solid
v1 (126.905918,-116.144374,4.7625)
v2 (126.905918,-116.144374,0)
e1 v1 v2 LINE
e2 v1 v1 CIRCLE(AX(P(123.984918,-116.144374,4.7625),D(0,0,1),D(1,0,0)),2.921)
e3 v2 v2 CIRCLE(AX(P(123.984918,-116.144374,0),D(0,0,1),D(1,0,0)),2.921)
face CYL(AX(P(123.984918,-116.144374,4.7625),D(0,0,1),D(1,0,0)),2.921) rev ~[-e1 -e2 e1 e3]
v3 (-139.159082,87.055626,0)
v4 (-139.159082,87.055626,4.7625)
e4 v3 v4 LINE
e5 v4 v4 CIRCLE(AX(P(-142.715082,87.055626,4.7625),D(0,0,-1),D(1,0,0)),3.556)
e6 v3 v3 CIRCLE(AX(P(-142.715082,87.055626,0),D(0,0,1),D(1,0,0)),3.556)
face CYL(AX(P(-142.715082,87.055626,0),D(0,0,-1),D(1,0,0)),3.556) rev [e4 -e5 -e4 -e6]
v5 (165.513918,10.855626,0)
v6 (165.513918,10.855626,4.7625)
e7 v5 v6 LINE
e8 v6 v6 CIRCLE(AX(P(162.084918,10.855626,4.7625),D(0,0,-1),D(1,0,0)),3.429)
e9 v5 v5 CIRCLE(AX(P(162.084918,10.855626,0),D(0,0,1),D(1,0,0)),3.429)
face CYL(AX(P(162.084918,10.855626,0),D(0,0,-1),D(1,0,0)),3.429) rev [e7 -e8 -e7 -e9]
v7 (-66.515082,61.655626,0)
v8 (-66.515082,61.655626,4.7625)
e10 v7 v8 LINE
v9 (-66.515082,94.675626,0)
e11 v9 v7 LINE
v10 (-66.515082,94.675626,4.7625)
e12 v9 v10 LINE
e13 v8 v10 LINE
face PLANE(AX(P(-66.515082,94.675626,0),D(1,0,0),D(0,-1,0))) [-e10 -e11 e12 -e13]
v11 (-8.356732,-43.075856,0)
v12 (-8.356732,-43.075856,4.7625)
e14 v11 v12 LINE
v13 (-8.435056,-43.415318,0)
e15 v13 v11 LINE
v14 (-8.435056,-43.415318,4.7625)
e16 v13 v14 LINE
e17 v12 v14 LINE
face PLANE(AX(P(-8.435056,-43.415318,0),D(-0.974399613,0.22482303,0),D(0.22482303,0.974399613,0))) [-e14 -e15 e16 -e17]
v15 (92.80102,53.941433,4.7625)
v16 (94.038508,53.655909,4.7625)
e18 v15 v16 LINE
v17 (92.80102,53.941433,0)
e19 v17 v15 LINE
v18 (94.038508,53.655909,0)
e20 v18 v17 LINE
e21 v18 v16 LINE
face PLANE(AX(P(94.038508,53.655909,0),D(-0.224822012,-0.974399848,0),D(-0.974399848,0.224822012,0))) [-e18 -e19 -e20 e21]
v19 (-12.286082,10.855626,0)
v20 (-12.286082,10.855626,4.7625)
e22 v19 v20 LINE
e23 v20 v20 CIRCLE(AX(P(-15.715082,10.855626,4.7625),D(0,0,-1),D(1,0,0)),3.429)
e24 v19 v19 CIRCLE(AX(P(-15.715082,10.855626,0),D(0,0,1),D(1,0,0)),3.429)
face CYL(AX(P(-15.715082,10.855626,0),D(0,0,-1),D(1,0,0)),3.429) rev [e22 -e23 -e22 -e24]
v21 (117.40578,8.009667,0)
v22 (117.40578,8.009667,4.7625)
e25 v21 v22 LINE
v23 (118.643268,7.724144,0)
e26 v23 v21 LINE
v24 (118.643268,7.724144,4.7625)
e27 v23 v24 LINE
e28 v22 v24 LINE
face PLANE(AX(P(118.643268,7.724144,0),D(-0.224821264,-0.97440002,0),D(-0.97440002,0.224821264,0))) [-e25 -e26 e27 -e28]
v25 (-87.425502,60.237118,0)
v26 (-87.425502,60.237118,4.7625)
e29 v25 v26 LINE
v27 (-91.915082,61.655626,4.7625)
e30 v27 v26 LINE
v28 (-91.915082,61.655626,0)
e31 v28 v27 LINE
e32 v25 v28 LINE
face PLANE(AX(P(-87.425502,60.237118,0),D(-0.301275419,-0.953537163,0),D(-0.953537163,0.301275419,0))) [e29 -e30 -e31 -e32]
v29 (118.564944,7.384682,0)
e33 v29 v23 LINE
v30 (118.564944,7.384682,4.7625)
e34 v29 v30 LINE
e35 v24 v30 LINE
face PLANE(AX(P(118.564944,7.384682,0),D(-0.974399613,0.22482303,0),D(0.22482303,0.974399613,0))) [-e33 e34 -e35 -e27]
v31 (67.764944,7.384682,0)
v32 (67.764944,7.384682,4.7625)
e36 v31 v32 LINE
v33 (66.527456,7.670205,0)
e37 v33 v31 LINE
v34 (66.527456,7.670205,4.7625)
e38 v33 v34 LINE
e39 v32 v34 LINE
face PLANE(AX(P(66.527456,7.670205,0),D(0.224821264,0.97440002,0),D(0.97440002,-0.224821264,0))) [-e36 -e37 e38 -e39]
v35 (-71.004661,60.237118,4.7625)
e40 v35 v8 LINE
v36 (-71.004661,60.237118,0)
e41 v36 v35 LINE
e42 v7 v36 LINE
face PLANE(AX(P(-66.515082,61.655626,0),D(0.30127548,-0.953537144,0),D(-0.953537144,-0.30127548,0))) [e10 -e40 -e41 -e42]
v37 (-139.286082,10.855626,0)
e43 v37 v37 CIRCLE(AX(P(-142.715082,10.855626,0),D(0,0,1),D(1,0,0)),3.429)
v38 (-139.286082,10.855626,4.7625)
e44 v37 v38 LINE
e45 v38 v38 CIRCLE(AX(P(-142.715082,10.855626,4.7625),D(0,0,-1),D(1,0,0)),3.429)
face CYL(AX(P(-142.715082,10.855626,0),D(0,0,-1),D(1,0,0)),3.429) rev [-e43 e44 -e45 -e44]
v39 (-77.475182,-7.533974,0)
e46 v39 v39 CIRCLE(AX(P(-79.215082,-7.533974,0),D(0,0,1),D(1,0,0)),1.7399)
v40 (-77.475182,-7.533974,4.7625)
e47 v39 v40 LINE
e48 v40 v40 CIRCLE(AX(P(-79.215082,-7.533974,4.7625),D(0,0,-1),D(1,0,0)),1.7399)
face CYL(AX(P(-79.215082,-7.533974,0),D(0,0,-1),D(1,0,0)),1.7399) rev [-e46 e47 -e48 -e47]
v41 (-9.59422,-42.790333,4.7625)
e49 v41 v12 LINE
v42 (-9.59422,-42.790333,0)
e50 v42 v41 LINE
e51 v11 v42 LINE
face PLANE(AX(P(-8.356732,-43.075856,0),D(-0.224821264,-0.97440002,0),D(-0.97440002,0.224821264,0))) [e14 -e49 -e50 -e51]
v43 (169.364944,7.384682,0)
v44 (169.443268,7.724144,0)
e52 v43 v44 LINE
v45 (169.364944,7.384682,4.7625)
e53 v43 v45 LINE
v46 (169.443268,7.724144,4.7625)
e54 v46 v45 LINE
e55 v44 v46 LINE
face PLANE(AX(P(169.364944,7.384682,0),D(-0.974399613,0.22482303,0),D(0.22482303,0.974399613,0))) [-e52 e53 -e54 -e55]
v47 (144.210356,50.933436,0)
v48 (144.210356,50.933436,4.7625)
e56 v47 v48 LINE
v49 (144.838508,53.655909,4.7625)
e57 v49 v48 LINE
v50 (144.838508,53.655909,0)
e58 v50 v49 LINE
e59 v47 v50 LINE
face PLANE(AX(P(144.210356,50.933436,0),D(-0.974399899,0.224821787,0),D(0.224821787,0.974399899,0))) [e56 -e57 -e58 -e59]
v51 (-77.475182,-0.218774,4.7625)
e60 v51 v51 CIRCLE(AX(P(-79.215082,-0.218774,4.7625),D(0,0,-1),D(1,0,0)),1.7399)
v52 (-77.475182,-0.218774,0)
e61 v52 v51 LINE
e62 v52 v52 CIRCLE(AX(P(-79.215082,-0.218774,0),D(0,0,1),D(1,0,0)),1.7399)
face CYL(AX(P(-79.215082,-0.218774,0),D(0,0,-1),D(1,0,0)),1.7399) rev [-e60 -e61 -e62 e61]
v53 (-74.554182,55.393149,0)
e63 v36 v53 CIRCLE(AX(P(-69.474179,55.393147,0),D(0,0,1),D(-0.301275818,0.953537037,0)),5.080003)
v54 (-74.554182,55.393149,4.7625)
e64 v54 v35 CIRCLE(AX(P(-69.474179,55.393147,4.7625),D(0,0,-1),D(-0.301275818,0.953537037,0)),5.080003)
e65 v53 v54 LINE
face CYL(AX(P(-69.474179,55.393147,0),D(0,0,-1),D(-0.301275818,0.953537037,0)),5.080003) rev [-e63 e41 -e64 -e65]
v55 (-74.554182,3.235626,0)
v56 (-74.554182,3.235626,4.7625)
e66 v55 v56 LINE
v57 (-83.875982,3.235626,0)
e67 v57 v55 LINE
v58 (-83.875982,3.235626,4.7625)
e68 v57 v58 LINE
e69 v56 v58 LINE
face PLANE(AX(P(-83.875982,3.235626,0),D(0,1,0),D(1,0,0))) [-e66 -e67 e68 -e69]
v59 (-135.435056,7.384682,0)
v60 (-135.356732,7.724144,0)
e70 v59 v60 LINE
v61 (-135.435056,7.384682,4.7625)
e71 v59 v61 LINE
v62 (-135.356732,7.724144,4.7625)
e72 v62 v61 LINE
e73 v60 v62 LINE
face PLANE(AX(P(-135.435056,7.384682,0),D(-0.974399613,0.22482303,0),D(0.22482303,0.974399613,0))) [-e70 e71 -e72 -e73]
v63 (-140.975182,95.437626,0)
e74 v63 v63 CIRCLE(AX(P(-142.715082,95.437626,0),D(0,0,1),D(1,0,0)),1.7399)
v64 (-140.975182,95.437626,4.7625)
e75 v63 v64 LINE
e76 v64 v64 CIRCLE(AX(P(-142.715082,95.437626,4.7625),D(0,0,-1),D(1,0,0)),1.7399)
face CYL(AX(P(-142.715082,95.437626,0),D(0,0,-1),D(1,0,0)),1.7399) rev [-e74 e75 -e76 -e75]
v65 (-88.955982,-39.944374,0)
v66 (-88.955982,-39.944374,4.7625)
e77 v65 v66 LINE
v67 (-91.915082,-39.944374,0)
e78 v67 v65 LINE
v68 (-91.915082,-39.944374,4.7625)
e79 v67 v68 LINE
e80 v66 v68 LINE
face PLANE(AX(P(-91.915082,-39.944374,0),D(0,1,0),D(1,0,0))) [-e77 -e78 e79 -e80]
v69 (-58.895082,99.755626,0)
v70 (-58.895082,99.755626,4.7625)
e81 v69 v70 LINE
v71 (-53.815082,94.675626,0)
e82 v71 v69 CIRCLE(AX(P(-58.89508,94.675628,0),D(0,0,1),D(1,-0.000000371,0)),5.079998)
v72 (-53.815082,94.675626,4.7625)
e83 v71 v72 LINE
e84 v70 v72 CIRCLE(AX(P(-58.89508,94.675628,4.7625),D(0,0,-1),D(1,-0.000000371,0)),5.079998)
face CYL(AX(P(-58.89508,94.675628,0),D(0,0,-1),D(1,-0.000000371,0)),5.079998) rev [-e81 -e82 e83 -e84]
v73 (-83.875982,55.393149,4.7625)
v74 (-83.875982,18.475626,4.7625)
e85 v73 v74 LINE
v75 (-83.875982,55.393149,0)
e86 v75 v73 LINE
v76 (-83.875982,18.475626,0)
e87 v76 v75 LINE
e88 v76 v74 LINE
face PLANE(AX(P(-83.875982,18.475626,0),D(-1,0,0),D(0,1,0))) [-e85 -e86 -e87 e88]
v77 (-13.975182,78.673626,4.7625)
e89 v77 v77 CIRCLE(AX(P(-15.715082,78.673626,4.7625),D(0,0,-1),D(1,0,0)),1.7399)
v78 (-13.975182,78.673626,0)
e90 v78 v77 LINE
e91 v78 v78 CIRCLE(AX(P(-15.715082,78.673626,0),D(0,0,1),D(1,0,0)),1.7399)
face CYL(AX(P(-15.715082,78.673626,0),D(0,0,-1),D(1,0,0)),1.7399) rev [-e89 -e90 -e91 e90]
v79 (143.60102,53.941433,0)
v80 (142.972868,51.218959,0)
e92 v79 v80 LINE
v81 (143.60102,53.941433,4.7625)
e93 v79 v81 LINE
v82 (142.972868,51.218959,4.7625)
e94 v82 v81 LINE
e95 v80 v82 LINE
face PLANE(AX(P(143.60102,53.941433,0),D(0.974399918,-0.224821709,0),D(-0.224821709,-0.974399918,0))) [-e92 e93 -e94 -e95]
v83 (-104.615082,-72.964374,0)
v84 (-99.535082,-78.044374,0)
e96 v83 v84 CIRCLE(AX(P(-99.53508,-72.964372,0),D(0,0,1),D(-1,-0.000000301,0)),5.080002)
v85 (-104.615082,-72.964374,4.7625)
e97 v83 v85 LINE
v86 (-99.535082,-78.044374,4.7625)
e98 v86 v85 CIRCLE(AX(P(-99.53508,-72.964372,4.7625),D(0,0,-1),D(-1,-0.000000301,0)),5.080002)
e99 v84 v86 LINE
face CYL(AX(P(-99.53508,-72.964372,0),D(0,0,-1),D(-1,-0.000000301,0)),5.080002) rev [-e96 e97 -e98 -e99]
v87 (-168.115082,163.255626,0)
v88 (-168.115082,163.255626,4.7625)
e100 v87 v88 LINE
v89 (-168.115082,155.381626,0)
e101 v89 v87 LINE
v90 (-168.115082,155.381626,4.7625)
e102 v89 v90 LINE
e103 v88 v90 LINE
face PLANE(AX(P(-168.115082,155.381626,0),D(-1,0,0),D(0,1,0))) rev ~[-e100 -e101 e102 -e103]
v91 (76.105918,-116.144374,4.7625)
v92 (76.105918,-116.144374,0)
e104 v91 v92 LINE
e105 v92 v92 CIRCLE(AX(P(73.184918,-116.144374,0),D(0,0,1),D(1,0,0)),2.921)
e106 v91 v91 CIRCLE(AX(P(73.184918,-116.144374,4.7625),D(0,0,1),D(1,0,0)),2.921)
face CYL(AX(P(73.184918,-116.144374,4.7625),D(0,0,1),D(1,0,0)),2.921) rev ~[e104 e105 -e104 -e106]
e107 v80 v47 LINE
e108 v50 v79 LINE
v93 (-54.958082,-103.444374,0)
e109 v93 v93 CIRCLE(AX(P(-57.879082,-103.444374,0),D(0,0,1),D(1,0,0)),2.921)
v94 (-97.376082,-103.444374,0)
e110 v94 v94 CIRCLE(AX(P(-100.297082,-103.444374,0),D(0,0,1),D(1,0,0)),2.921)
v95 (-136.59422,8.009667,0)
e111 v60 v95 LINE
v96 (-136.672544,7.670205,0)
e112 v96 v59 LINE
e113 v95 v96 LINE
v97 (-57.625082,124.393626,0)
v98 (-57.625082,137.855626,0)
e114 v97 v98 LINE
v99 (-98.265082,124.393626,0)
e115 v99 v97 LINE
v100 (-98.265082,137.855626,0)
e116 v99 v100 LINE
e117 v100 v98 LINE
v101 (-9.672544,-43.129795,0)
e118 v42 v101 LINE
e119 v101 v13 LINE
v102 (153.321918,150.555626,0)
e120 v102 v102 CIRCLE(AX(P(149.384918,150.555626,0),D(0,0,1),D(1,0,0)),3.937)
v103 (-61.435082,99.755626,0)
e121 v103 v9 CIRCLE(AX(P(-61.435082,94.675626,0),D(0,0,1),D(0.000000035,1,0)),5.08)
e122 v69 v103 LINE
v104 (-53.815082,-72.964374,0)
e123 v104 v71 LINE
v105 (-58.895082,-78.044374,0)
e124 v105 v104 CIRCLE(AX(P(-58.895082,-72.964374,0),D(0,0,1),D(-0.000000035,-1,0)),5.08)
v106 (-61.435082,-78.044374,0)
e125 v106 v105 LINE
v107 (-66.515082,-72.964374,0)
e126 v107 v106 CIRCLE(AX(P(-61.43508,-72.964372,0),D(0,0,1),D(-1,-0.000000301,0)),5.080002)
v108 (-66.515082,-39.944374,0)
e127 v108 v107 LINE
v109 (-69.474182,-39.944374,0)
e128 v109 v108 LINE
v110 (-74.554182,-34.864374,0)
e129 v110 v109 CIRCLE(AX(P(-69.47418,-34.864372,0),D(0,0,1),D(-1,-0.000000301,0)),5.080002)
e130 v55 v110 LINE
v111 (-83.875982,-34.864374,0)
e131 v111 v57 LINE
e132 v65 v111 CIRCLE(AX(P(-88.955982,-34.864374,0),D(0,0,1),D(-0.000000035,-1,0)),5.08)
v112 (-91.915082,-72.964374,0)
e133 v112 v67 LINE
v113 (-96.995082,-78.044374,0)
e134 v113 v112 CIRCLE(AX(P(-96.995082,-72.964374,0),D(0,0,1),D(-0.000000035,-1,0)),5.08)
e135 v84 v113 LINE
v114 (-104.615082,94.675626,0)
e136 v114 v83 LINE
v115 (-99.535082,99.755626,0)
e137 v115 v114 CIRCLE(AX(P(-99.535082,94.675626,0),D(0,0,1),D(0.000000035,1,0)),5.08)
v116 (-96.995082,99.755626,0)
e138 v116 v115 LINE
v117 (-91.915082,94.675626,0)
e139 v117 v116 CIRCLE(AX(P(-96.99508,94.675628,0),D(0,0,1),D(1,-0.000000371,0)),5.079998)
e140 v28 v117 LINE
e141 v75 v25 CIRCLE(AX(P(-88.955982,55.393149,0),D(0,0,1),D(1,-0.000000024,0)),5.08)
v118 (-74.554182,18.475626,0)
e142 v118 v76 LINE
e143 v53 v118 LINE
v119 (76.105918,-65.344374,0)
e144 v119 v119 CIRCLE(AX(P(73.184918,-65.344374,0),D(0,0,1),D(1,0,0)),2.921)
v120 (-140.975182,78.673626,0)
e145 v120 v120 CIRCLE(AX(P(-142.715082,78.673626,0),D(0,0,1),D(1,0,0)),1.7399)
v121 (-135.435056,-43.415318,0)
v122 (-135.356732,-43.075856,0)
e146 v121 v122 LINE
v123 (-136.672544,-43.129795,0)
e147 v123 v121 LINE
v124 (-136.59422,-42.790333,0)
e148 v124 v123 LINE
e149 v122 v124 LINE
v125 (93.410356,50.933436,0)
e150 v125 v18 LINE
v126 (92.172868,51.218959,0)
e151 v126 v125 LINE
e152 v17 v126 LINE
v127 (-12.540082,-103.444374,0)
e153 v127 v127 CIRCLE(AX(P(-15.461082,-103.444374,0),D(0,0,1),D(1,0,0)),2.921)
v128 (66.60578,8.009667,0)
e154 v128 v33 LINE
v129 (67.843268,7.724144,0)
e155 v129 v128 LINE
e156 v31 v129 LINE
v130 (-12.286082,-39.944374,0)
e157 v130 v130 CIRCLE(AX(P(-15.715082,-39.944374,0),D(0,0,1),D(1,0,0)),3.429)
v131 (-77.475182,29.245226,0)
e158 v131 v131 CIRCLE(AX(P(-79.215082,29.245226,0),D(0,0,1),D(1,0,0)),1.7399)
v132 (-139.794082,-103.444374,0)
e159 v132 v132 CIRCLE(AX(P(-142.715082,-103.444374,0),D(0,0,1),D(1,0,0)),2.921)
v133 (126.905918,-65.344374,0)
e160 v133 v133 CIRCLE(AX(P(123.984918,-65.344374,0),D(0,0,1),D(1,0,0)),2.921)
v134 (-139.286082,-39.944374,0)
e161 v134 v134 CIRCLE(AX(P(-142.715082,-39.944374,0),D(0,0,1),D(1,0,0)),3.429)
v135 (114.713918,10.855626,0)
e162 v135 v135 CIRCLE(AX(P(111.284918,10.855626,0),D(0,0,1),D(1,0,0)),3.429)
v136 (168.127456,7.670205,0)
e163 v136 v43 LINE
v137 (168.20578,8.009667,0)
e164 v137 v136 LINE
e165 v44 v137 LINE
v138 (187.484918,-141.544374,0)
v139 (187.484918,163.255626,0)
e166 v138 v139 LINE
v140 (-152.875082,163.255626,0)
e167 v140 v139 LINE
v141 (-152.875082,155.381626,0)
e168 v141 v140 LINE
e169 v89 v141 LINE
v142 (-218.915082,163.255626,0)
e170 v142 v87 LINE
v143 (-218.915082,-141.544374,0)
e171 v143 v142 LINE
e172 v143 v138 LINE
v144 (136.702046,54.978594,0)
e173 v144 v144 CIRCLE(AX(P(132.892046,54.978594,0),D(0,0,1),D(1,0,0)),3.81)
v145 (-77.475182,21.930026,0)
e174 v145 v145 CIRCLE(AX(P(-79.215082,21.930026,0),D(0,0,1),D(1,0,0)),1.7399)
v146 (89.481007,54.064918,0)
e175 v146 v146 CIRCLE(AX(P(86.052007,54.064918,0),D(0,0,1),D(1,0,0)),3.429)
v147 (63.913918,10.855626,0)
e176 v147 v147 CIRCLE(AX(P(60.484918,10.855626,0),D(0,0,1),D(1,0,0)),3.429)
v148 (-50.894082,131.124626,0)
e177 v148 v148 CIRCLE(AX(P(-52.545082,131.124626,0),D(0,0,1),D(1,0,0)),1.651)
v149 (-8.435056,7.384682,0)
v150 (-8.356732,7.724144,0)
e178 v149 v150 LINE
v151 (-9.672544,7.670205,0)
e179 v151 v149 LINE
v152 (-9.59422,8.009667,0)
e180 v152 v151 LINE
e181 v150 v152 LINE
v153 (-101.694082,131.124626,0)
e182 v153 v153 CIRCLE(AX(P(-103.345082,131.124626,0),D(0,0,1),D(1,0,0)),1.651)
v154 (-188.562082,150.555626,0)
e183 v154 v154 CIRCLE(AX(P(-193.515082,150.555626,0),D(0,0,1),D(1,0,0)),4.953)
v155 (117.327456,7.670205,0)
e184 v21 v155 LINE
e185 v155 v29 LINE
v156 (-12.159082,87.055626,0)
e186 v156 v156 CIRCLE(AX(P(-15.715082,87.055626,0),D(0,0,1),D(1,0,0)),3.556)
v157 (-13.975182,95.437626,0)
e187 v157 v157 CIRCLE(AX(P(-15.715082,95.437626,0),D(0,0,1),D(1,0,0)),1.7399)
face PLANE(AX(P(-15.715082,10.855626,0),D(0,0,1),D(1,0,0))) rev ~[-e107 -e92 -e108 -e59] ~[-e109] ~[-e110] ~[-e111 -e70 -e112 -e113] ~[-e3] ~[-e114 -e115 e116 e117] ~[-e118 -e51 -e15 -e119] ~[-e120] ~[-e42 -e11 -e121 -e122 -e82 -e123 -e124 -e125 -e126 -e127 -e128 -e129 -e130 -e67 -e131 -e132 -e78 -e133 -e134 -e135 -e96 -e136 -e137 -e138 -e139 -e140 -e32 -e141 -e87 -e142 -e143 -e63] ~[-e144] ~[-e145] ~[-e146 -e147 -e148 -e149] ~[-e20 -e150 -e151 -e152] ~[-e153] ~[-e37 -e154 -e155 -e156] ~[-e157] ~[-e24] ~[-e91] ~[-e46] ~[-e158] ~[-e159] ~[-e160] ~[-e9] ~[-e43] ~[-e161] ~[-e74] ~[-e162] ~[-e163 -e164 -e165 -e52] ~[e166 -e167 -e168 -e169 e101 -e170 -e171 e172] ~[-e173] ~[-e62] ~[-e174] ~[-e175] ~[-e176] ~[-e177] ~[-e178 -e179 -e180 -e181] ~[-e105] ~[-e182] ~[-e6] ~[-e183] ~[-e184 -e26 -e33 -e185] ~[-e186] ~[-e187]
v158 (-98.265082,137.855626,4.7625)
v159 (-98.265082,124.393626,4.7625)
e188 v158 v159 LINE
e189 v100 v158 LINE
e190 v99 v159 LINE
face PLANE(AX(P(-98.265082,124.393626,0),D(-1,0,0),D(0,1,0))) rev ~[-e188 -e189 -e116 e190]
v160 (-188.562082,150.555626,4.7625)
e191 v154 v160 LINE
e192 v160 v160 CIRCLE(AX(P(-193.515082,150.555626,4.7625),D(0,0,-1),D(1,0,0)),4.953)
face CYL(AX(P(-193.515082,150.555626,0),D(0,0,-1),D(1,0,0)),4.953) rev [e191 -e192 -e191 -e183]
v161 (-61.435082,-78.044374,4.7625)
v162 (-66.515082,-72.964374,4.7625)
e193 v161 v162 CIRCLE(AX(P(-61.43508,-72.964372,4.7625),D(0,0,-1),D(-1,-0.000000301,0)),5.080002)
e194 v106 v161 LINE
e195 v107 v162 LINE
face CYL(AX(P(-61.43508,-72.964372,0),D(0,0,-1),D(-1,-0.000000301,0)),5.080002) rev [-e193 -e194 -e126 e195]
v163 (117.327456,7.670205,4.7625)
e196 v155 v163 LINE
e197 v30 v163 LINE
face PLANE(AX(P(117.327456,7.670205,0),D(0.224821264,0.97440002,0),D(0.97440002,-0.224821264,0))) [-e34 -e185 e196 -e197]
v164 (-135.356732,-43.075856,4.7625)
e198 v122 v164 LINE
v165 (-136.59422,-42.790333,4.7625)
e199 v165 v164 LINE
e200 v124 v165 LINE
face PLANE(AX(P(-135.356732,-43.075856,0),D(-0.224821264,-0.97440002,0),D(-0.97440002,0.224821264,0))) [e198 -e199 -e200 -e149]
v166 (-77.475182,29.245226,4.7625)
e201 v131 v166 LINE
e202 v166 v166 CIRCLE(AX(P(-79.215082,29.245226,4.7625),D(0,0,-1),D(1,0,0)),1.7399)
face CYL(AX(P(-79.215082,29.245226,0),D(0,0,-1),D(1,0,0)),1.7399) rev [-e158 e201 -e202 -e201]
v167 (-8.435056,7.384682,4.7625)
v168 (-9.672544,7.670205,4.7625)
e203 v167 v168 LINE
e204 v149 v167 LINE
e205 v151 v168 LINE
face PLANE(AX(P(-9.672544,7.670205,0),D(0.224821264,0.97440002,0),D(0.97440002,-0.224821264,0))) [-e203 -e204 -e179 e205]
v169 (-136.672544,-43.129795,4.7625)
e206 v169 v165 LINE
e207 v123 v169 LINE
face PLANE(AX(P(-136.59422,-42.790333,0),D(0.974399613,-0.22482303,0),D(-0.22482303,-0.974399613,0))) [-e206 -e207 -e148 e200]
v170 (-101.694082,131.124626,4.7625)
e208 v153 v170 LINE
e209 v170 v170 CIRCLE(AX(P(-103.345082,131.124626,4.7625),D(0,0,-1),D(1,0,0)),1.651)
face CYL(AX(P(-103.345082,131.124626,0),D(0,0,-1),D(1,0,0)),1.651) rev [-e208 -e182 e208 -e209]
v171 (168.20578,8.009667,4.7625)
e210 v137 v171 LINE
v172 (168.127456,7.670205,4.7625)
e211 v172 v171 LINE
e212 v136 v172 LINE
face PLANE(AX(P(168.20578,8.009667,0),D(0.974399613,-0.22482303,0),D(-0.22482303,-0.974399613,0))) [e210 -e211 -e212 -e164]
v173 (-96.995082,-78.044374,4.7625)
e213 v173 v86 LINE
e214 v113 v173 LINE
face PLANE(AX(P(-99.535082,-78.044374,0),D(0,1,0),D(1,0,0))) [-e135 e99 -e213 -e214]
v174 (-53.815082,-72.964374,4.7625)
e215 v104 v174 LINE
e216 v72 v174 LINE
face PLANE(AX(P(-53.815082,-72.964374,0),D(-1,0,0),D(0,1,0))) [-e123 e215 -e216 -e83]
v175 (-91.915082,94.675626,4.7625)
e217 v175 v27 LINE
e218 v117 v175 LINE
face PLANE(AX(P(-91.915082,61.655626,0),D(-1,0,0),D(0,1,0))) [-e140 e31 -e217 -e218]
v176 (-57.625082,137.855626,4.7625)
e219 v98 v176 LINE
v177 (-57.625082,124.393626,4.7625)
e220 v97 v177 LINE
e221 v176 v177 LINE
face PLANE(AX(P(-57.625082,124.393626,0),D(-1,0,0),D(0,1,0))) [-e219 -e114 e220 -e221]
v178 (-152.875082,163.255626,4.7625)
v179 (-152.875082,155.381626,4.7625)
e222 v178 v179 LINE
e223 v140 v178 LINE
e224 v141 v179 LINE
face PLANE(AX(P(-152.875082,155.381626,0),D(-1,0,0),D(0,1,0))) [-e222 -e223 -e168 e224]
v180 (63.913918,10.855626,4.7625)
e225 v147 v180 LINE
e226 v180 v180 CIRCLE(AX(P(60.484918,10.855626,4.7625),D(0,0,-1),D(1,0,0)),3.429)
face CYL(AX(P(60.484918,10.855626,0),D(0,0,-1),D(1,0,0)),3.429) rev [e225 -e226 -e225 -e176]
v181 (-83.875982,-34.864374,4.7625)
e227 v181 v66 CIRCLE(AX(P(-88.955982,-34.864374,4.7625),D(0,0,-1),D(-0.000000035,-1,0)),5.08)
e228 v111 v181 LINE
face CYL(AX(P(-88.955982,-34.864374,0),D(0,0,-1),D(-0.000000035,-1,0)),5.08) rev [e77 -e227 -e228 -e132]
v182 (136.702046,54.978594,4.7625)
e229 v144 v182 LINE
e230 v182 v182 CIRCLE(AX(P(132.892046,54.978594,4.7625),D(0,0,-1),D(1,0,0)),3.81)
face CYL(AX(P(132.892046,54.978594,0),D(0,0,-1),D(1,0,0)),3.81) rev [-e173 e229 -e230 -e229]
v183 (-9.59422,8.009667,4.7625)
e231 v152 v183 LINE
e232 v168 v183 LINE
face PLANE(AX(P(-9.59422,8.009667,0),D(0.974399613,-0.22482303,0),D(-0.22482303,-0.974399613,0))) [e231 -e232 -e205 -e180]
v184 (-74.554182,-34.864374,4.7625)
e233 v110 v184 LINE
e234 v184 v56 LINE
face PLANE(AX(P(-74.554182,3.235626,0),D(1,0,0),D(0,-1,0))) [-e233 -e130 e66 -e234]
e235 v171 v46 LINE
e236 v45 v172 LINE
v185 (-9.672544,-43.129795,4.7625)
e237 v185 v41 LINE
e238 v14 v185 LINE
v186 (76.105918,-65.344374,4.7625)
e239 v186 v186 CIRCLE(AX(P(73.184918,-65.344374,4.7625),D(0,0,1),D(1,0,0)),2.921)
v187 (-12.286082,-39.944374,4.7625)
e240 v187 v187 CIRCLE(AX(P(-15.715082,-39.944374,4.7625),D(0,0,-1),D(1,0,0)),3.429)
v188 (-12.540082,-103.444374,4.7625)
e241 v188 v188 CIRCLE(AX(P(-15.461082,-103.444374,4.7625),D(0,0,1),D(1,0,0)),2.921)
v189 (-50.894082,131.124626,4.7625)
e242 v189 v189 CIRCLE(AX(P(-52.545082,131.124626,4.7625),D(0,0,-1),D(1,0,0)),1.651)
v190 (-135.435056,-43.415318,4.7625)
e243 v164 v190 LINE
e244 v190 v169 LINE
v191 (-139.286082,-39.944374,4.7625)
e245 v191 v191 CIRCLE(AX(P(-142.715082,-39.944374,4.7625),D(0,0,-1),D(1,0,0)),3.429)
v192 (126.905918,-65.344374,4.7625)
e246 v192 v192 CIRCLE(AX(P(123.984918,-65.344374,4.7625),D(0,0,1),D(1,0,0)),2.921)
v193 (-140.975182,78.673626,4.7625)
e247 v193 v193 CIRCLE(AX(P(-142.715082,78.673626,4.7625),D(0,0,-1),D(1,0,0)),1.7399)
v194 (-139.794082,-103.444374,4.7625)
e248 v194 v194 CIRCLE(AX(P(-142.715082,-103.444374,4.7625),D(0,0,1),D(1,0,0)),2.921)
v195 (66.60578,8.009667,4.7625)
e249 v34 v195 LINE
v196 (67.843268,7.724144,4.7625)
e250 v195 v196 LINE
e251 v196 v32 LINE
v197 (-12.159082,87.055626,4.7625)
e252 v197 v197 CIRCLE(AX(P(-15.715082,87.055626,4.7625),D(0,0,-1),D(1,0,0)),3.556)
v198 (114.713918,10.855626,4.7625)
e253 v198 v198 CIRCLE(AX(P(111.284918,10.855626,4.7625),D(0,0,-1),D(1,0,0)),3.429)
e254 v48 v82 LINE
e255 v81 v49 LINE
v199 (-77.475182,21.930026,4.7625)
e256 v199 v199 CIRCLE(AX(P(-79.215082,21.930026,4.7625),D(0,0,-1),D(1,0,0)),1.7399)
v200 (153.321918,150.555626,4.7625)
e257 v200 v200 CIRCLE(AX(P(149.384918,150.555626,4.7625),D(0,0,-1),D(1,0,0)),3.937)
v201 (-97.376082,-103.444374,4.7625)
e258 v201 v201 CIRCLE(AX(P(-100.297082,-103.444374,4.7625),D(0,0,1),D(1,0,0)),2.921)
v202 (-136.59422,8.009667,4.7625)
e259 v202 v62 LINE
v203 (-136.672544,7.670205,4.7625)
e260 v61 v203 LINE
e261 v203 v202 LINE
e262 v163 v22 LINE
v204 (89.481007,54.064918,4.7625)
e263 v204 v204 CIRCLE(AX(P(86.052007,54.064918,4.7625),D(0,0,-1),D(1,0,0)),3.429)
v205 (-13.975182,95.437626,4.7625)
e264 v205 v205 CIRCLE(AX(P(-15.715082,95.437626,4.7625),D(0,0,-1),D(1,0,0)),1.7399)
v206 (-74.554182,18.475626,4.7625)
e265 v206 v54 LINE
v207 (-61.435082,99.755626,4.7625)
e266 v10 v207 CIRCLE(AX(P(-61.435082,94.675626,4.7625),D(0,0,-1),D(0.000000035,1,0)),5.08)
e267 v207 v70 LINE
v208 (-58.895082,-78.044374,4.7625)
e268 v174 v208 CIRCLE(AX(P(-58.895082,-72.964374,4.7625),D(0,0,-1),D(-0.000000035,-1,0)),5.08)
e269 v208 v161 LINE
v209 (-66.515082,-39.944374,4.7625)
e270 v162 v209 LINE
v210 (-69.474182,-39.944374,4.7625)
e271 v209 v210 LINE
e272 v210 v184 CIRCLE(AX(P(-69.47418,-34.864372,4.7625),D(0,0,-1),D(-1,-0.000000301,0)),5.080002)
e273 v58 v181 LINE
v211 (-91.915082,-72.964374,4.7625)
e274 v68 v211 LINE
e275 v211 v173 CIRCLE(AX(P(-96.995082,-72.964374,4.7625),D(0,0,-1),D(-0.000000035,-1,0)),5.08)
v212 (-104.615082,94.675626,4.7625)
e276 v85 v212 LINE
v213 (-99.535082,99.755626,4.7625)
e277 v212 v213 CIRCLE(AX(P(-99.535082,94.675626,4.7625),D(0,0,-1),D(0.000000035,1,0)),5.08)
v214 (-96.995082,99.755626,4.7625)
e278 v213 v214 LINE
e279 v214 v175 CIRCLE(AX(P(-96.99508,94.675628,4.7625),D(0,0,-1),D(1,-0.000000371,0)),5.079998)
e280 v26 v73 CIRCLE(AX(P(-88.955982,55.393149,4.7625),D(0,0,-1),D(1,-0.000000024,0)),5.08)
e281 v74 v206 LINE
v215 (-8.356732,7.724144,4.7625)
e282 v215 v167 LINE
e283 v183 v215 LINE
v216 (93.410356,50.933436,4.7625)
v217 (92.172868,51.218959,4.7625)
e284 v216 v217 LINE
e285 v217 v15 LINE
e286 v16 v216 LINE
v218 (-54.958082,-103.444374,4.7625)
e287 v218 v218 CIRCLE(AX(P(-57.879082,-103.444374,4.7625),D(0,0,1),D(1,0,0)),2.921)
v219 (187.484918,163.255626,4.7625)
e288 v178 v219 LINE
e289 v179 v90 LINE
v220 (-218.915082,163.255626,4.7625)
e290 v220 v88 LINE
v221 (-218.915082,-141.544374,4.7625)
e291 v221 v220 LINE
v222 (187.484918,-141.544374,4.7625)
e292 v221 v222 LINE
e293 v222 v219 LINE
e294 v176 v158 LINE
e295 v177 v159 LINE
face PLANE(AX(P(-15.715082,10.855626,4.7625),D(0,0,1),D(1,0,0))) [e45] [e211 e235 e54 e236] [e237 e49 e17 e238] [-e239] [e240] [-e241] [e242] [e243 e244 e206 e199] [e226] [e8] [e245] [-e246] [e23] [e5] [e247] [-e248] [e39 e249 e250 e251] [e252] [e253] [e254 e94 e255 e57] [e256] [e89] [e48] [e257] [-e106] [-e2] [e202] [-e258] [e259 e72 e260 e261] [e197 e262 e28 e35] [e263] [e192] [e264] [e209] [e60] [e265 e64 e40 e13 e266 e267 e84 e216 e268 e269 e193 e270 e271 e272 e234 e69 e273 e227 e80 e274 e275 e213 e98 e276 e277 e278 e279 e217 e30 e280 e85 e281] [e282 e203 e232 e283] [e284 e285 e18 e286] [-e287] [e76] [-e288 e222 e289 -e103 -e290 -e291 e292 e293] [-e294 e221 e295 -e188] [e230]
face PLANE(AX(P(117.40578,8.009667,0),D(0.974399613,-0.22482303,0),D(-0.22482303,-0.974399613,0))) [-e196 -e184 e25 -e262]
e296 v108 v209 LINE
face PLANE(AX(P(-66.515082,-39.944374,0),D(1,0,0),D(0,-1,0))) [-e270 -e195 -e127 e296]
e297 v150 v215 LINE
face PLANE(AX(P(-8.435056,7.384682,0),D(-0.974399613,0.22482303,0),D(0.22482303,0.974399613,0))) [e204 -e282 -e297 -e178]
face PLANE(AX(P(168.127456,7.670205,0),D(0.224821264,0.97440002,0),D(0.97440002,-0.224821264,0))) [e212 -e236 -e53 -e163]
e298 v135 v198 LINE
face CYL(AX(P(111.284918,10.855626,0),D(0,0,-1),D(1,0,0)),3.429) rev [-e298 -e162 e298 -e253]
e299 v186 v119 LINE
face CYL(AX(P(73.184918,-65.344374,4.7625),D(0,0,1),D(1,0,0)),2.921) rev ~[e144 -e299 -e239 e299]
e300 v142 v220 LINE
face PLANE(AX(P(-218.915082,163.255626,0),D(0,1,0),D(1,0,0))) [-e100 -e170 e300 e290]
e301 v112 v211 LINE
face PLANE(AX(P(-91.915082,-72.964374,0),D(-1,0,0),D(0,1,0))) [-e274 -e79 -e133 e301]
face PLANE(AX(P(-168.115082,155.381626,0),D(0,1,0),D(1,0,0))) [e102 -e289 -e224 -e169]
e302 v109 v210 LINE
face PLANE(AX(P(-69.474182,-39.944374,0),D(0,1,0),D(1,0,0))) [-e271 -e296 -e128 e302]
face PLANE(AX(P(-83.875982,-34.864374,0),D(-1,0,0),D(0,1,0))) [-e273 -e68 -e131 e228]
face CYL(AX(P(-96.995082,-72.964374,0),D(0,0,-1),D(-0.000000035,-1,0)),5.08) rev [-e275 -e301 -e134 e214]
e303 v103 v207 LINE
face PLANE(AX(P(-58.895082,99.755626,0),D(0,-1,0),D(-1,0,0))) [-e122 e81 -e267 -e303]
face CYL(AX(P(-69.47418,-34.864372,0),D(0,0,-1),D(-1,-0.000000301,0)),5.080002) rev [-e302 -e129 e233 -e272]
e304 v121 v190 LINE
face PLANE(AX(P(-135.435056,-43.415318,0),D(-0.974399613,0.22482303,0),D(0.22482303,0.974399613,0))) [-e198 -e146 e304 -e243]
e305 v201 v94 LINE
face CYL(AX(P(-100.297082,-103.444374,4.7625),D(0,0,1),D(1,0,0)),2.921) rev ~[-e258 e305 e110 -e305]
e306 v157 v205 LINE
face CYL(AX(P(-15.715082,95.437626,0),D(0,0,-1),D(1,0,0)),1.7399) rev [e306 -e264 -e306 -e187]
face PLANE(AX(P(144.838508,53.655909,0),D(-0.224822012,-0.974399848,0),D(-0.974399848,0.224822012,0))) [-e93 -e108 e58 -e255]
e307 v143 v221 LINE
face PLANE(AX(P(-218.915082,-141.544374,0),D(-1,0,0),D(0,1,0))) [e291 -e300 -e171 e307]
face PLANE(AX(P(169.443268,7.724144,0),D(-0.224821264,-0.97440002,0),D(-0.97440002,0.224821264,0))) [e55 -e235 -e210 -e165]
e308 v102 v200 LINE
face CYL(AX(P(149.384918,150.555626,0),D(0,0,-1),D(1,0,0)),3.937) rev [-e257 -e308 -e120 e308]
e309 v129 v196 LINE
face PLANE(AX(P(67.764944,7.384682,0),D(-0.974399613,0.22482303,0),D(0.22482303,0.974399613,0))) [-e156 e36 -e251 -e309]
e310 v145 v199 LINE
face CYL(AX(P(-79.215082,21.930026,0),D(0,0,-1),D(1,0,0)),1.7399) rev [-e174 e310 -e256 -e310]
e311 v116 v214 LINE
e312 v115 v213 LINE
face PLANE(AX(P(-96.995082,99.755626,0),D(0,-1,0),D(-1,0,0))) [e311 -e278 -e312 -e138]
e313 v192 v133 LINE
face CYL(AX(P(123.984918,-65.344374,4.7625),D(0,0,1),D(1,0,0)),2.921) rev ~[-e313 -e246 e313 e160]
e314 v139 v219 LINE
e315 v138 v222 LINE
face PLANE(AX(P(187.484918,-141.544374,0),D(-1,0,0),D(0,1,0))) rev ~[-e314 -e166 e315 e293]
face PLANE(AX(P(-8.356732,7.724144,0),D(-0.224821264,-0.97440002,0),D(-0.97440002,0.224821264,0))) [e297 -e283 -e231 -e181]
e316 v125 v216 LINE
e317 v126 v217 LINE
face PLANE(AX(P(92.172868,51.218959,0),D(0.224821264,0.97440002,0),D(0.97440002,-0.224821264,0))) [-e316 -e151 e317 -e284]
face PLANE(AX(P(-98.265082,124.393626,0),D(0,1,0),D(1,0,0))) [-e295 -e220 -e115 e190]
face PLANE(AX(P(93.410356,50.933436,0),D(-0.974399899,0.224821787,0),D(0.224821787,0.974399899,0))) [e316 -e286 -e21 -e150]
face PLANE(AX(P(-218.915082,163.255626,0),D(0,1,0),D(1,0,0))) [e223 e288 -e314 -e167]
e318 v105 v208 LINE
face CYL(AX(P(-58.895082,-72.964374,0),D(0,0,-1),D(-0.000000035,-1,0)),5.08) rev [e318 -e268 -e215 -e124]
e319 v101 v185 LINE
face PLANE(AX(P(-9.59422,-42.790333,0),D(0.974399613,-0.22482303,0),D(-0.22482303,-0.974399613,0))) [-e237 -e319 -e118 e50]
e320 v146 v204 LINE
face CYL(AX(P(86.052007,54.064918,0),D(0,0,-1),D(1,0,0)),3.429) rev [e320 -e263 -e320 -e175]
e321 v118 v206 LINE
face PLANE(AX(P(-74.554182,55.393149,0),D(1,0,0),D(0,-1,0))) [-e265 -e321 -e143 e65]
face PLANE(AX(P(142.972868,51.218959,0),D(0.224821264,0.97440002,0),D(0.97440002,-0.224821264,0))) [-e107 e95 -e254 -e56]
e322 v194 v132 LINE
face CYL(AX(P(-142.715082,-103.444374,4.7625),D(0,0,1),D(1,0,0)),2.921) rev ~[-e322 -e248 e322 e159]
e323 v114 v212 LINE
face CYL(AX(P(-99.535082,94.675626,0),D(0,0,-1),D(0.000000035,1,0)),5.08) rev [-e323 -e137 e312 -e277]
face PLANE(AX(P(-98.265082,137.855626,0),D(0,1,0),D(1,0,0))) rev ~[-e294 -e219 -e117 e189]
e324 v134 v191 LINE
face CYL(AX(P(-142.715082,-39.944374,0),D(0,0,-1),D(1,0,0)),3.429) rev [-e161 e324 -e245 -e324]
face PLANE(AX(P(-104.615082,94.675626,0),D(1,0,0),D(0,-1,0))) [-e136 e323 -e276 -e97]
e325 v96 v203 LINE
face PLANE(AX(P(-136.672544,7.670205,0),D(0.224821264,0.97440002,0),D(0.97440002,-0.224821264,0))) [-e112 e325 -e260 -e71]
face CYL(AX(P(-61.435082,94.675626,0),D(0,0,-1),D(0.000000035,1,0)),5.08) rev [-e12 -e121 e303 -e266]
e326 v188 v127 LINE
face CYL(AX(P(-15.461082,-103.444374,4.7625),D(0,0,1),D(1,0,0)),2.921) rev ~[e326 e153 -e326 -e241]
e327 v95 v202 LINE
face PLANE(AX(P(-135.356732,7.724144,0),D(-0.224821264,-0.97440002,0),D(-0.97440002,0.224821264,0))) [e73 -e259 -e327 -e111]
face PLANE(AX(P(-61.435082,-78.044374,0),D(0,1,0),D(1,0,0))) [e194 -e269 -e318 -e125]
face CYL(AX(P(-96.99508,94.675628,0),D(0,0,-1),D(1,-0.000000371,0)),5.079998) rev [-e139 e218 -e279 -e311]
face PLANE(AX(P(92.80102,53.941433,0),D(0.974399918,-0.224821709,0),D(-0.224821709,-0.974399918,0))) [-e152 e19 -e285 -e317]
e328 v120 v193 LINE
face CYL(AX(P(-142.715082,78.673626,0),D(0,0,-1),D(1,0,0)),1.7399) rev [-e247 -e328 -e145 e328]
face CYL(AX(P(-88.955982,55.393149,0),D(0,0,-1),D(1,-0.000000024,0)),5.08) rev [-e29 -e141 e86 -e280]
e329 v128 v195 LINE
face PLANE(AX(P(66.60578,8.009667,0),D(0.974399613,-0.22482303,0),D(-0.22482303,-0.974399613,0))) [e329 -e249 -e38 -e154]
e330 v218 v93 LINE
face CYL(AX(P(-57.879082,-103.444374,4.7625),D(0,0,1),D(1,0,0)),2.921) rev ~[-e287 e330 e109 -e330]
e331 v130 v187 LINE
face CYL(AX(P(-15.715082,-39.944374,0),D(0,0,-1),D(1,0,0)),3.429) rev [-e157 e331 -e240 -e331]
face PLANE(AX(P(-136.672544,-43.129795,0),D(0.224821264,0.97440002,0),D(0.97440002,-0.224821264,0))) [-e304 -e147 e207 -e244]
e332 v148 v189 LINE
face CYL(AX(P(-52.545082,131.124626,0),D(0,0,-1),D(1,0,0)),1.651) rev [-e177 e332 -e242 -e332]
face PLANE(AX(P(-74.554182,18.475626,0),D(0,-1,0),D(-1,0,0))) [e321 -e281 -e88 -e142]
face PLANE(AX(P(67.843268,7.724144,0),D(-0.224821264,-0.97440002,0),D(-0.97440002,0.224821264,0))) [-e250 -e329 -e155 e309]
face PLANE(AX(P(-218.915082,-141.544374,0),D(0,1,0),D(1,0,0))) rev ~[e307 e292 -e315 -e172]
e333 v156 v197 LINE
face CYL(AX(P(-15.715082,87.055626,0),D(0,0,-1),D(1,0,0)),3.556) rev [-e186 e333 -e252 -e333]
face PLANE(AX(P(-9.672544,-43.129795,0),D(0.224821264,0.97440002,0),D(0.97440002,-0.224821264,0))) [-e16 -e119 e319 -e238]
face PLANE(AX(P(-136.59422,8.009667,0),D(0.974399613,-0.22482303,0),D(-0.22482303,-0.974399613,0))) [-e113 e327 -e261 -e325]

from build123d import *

# Parameters (mm, degrees)
F0_W     = 406.4
F0_H     = 304.8
F1_DEPTH = 4.7625
F2_R     = 1.7399
F2_R_2   = 3.429
F2_R_3   = 3.556
F2_W     = 15.24
F2_H     = 7.874
F2_R_4   = 4.953
F2_R_5   = 3.81
F2_R_6   = 3.937
F2_W_2   = 40.64
F2_H_2   = 13.462
F2_R_7   = 1.651
F3_DEPTH = 25.4
F4_R     = 2.921
F5_DEPTH = 25.4


with BuildPart() as f1:
    # F0 (on Top) → F1 (new body)
    with BuildSketch(Plane.XY):
        with Locations((-15.715082, 10.855626)):
            Rectangle(F0_W, F0_H)
    extrude(amount=F1_DEPTH)

    # F2 (on Top) → F3 (cut)
    with BuildSketch(Plane.XY):
        with Locations((-142.715082, 95.437626)):
            Circle(F2_R)
        with Locations((-142.715082, 78.673626)):
            Circle(F2_R)
        with Locations((-142.715082, 10.855626)):
            Circle(F2_R_2)
        with Locations((-142.715082, 87.055626)):
            Circle(F2_R_3)
        Polygon((-135.356732, 7.724144), (-136.59422, 8.009667), (-136.672544, 7.670205), (-135.435056, 7.384682), align=None)
        with Locations((-142.715082, -39.944374)):
            Circle(F2_R_2)
        Polygon((-135.356732, -43.075856), (-136.59422, -42.790333), (-136.672544, -43.129795), (-135.435056, -43.415318), align=None)
        with Locations((-15.715082, -39.944374)):
            Circle(F2_R_2)
        with Locations((-15.715082, 87.055626)):
            Circle(F2_R_3)
        with Locations((-15.715082, 10.855626)):
            Circle(F2_R_2)
        with Locations((-15.715082, 78.673626)):
            Circle(F2_R)
        with Locations((-15.715082, 95.437626)):
            Circle(F2_R)
        Polygon((-8.435056, 7.384682), (-8.356732, 7.724144), (-9.59422, 8.009667), (-9.672544, 7.670205), align=None)
        Polygon((-8.435056, -43.415318), (-8.356732, -43.075856), (-9.59422, -42.790333), (-9.672544, -43.129795), align=None)
        with Locations((-160.495082, 159.318626)):
            Rectangle(F2_W, F2_H)
        with Locations((-193.515082, 150.555626)):
            Circle(F2_R_4)
        Polygon((67.764944, 7.384682), (67.843268, 7.724144), (66.60578, 8.009667), (66.527456, 7.670205), align=None)
        with Locations((60.484918, 10.855626)):
            Circle(F2_R_2)
        Polygon((117.40578, 8.009667), (117.327456, 7.670205), (118.564944, 7.384682), (118.643268, 7.724144), align=None)
        with Locations((111.284918, 10.855626)):
            Circle(F2_R_2)
        Polygon((168.20578, 8.009667), (168.127456, 7.670205), (169.364944, 7.384682), (169.443268, 7.724144), align=None)
        with Locations((162.084918, 10.855626)):
            Circle(F2_R_2)
        Polygon((94.038508, 53.655909), (92.80102, 53.941433), (92.172868, 51.218959), (93.410356, 50.933436), align=None)
        with Locations((86.052007, 54.064918)):
            Circle(F2_R_2)
        Polygon((144.838508, 53.655909), (143.60102, 53.941433), (142.972868, 51.218959), (144.210356, 50.933436), align=None)
        with Locations((132.892046, 54.978594)):
            Circle(F2_R_5)
        with BuildLine():
            Line((-96.995082, 99.755626), (-99.535082, 99.755626))
            ThreePointArc((-99.535082, 99.755626), (-103.127184, 98.267729), (-104.615082, 94.675626))
            Line((-104.615082, 94.675626), (-104.615082, -72.964374))
            ThreePointArc((-104.615082, -72.964374), (-103.127184, -76.556476), (-99.535082, -78.044374))
            Line((-99.535082, -78.044374), (-96.995082, -78.044374))
            ThreePointArc((-96.995082, -78.044374), (-93.402979, -76.556476), (-91.915082, -72.964374))
            Line((-91.915082, -72.964374), (-91.915082, -39.944374))
            Line((-91.915082, -39.944374), (-89.606103, -39.944374))
            Line((-89.606103, -39.944374), (-88.955982, -39.944374))
            ThreePointArc((-88.955982, -39.944374), (-85.363879, -38.456476), (-83.875982, -34.864374))
            Line((-83.875982, -34.864374), (-83.875982, 1.199732))
            Line((-83.875982, 1.199732), (-83.875982, 3.235626))
            Line((-83.875982, 3.235626), (-74.554182, 3.235626))
            Line((-74.554182, 3.235626), (-74.554182, -34.864374))
            ThreePointArc((-74.554182, -34.864374), (-73.066284, -38.456476), (-69.474182, -39.944374))
            Line((-69.474182, -39.944374), (-68.82406, -39.944374))
            Line((-68.82406, -39.944374), (-66.515082, -39.944374))
            Line((-66.515082, -39.944374), (-66.515082, -72.964374))
            ThreePointArc((-66.515082, -72.964374), (-65.027184, -76.556476), (-61.435082, -78.044374))
            Line((-61.435082, -78.044374), (-58.895082, -78.044374))
            ThreePointArc((-58.895082, -78.044374), (-55.302979, -76.556476), (-53.815082, -72.964374))
            Line((-53.815082, -72.964374), (-53.815082, 94.675626))
            ThreePointArc((-53.815082, 94.675626), (-55.302979, 98.267729), (-58.895082, 99.755626))
            Line((-58.895082, 99.755626), (-61.435082, 99.755626))
            ThreePointArc((-61.435082, 99.755626), (-65.027184, 98.267729), (-66.515082, 94.675626))
            Line((-66.515082, 94.675626), (-66.515082, 61.655626))
            Line((-66.515082, 61.655626), (-71.004661, 60.237118))
            ThreePointArc((-71.004661, 60.237118), (-73.571817, 58.395778), (-74.554182, 55.393149))
            Line((-74.554182, 55.393149), (-74.554182, 18.475626))
            Line((-74.554182, 18.475626), (-83.875982, 18.475626))
            Line((-83.875982, 18.475626), (-83.875982, 55.393149))
            ThreePointArc((-83.875982, 55.393149), (-84.858346, 58.395778), (-87.425502, 60.237118))
            Line((-87.425502, 60.237118), (-91.915082, 61.655626))
            Line((-91.915082, 61.655626), (-91.915082, 94.675626))
            ThreePointArc((-91.915082, 94.675626), (-93.402979, 98.267729), (-96.995082, 99.755626))
        make_face()
        with Locations((-79.215082, 21.930026)):
            Circle(F2_R)
        with Locations((-79.215082, 29.245226)):
            Circle(F2_R)
        with Locations((-79.215082, -7.533974)):
            Circle(F2_R)
        with Locations((-79.215082, -0.218774)):
            Circle(F2_R)
        with Locations((149.384918, 150.555626)):
            Circle(F2_R_6)
        with Locations((-77.945082, 131.124626)):
            Rectangle(F2_W_2, F2_H_2)
        with Locations((-52.545082, 131.124626)):
            Circle(F2_R_7)
        with Locations((-103.345082, 131.124626)):
            Circle(F2_R_7)
    extrude(amount=F3_DEPTH, mode=Mode.SUBTRACT)

    # F4 (on face) → F5 (cut)
    with BuildSketch(Plane.XY.offset(4.7625)):
        with Locations((-142.715082, -103.444374)):
            Circle(F4_R)
        with Locations((-100.297082, -103.444374)):
            Circle(F4_R)
        with Locations((73.184918, -65.344374)):
            Circle(F4_R)
        with Locations((73.184918, -116.144374)):
            Circle(F4_R)
        with Locations((123.984918, -65.344374)):
            Circle(F4_R)
        with Locations((123.984918, -116.144374)):
            Circle(F4_R)
        with Locations((-57.879082, -103.444374)):
            Circle(F4_R)
        with Locations((-15.461082, -103.444374)):
            Circle(F4_R)
    extrude(amount=-F5_DEPTH, mode=Mode.SUBTRACT)


solid = f1.part
